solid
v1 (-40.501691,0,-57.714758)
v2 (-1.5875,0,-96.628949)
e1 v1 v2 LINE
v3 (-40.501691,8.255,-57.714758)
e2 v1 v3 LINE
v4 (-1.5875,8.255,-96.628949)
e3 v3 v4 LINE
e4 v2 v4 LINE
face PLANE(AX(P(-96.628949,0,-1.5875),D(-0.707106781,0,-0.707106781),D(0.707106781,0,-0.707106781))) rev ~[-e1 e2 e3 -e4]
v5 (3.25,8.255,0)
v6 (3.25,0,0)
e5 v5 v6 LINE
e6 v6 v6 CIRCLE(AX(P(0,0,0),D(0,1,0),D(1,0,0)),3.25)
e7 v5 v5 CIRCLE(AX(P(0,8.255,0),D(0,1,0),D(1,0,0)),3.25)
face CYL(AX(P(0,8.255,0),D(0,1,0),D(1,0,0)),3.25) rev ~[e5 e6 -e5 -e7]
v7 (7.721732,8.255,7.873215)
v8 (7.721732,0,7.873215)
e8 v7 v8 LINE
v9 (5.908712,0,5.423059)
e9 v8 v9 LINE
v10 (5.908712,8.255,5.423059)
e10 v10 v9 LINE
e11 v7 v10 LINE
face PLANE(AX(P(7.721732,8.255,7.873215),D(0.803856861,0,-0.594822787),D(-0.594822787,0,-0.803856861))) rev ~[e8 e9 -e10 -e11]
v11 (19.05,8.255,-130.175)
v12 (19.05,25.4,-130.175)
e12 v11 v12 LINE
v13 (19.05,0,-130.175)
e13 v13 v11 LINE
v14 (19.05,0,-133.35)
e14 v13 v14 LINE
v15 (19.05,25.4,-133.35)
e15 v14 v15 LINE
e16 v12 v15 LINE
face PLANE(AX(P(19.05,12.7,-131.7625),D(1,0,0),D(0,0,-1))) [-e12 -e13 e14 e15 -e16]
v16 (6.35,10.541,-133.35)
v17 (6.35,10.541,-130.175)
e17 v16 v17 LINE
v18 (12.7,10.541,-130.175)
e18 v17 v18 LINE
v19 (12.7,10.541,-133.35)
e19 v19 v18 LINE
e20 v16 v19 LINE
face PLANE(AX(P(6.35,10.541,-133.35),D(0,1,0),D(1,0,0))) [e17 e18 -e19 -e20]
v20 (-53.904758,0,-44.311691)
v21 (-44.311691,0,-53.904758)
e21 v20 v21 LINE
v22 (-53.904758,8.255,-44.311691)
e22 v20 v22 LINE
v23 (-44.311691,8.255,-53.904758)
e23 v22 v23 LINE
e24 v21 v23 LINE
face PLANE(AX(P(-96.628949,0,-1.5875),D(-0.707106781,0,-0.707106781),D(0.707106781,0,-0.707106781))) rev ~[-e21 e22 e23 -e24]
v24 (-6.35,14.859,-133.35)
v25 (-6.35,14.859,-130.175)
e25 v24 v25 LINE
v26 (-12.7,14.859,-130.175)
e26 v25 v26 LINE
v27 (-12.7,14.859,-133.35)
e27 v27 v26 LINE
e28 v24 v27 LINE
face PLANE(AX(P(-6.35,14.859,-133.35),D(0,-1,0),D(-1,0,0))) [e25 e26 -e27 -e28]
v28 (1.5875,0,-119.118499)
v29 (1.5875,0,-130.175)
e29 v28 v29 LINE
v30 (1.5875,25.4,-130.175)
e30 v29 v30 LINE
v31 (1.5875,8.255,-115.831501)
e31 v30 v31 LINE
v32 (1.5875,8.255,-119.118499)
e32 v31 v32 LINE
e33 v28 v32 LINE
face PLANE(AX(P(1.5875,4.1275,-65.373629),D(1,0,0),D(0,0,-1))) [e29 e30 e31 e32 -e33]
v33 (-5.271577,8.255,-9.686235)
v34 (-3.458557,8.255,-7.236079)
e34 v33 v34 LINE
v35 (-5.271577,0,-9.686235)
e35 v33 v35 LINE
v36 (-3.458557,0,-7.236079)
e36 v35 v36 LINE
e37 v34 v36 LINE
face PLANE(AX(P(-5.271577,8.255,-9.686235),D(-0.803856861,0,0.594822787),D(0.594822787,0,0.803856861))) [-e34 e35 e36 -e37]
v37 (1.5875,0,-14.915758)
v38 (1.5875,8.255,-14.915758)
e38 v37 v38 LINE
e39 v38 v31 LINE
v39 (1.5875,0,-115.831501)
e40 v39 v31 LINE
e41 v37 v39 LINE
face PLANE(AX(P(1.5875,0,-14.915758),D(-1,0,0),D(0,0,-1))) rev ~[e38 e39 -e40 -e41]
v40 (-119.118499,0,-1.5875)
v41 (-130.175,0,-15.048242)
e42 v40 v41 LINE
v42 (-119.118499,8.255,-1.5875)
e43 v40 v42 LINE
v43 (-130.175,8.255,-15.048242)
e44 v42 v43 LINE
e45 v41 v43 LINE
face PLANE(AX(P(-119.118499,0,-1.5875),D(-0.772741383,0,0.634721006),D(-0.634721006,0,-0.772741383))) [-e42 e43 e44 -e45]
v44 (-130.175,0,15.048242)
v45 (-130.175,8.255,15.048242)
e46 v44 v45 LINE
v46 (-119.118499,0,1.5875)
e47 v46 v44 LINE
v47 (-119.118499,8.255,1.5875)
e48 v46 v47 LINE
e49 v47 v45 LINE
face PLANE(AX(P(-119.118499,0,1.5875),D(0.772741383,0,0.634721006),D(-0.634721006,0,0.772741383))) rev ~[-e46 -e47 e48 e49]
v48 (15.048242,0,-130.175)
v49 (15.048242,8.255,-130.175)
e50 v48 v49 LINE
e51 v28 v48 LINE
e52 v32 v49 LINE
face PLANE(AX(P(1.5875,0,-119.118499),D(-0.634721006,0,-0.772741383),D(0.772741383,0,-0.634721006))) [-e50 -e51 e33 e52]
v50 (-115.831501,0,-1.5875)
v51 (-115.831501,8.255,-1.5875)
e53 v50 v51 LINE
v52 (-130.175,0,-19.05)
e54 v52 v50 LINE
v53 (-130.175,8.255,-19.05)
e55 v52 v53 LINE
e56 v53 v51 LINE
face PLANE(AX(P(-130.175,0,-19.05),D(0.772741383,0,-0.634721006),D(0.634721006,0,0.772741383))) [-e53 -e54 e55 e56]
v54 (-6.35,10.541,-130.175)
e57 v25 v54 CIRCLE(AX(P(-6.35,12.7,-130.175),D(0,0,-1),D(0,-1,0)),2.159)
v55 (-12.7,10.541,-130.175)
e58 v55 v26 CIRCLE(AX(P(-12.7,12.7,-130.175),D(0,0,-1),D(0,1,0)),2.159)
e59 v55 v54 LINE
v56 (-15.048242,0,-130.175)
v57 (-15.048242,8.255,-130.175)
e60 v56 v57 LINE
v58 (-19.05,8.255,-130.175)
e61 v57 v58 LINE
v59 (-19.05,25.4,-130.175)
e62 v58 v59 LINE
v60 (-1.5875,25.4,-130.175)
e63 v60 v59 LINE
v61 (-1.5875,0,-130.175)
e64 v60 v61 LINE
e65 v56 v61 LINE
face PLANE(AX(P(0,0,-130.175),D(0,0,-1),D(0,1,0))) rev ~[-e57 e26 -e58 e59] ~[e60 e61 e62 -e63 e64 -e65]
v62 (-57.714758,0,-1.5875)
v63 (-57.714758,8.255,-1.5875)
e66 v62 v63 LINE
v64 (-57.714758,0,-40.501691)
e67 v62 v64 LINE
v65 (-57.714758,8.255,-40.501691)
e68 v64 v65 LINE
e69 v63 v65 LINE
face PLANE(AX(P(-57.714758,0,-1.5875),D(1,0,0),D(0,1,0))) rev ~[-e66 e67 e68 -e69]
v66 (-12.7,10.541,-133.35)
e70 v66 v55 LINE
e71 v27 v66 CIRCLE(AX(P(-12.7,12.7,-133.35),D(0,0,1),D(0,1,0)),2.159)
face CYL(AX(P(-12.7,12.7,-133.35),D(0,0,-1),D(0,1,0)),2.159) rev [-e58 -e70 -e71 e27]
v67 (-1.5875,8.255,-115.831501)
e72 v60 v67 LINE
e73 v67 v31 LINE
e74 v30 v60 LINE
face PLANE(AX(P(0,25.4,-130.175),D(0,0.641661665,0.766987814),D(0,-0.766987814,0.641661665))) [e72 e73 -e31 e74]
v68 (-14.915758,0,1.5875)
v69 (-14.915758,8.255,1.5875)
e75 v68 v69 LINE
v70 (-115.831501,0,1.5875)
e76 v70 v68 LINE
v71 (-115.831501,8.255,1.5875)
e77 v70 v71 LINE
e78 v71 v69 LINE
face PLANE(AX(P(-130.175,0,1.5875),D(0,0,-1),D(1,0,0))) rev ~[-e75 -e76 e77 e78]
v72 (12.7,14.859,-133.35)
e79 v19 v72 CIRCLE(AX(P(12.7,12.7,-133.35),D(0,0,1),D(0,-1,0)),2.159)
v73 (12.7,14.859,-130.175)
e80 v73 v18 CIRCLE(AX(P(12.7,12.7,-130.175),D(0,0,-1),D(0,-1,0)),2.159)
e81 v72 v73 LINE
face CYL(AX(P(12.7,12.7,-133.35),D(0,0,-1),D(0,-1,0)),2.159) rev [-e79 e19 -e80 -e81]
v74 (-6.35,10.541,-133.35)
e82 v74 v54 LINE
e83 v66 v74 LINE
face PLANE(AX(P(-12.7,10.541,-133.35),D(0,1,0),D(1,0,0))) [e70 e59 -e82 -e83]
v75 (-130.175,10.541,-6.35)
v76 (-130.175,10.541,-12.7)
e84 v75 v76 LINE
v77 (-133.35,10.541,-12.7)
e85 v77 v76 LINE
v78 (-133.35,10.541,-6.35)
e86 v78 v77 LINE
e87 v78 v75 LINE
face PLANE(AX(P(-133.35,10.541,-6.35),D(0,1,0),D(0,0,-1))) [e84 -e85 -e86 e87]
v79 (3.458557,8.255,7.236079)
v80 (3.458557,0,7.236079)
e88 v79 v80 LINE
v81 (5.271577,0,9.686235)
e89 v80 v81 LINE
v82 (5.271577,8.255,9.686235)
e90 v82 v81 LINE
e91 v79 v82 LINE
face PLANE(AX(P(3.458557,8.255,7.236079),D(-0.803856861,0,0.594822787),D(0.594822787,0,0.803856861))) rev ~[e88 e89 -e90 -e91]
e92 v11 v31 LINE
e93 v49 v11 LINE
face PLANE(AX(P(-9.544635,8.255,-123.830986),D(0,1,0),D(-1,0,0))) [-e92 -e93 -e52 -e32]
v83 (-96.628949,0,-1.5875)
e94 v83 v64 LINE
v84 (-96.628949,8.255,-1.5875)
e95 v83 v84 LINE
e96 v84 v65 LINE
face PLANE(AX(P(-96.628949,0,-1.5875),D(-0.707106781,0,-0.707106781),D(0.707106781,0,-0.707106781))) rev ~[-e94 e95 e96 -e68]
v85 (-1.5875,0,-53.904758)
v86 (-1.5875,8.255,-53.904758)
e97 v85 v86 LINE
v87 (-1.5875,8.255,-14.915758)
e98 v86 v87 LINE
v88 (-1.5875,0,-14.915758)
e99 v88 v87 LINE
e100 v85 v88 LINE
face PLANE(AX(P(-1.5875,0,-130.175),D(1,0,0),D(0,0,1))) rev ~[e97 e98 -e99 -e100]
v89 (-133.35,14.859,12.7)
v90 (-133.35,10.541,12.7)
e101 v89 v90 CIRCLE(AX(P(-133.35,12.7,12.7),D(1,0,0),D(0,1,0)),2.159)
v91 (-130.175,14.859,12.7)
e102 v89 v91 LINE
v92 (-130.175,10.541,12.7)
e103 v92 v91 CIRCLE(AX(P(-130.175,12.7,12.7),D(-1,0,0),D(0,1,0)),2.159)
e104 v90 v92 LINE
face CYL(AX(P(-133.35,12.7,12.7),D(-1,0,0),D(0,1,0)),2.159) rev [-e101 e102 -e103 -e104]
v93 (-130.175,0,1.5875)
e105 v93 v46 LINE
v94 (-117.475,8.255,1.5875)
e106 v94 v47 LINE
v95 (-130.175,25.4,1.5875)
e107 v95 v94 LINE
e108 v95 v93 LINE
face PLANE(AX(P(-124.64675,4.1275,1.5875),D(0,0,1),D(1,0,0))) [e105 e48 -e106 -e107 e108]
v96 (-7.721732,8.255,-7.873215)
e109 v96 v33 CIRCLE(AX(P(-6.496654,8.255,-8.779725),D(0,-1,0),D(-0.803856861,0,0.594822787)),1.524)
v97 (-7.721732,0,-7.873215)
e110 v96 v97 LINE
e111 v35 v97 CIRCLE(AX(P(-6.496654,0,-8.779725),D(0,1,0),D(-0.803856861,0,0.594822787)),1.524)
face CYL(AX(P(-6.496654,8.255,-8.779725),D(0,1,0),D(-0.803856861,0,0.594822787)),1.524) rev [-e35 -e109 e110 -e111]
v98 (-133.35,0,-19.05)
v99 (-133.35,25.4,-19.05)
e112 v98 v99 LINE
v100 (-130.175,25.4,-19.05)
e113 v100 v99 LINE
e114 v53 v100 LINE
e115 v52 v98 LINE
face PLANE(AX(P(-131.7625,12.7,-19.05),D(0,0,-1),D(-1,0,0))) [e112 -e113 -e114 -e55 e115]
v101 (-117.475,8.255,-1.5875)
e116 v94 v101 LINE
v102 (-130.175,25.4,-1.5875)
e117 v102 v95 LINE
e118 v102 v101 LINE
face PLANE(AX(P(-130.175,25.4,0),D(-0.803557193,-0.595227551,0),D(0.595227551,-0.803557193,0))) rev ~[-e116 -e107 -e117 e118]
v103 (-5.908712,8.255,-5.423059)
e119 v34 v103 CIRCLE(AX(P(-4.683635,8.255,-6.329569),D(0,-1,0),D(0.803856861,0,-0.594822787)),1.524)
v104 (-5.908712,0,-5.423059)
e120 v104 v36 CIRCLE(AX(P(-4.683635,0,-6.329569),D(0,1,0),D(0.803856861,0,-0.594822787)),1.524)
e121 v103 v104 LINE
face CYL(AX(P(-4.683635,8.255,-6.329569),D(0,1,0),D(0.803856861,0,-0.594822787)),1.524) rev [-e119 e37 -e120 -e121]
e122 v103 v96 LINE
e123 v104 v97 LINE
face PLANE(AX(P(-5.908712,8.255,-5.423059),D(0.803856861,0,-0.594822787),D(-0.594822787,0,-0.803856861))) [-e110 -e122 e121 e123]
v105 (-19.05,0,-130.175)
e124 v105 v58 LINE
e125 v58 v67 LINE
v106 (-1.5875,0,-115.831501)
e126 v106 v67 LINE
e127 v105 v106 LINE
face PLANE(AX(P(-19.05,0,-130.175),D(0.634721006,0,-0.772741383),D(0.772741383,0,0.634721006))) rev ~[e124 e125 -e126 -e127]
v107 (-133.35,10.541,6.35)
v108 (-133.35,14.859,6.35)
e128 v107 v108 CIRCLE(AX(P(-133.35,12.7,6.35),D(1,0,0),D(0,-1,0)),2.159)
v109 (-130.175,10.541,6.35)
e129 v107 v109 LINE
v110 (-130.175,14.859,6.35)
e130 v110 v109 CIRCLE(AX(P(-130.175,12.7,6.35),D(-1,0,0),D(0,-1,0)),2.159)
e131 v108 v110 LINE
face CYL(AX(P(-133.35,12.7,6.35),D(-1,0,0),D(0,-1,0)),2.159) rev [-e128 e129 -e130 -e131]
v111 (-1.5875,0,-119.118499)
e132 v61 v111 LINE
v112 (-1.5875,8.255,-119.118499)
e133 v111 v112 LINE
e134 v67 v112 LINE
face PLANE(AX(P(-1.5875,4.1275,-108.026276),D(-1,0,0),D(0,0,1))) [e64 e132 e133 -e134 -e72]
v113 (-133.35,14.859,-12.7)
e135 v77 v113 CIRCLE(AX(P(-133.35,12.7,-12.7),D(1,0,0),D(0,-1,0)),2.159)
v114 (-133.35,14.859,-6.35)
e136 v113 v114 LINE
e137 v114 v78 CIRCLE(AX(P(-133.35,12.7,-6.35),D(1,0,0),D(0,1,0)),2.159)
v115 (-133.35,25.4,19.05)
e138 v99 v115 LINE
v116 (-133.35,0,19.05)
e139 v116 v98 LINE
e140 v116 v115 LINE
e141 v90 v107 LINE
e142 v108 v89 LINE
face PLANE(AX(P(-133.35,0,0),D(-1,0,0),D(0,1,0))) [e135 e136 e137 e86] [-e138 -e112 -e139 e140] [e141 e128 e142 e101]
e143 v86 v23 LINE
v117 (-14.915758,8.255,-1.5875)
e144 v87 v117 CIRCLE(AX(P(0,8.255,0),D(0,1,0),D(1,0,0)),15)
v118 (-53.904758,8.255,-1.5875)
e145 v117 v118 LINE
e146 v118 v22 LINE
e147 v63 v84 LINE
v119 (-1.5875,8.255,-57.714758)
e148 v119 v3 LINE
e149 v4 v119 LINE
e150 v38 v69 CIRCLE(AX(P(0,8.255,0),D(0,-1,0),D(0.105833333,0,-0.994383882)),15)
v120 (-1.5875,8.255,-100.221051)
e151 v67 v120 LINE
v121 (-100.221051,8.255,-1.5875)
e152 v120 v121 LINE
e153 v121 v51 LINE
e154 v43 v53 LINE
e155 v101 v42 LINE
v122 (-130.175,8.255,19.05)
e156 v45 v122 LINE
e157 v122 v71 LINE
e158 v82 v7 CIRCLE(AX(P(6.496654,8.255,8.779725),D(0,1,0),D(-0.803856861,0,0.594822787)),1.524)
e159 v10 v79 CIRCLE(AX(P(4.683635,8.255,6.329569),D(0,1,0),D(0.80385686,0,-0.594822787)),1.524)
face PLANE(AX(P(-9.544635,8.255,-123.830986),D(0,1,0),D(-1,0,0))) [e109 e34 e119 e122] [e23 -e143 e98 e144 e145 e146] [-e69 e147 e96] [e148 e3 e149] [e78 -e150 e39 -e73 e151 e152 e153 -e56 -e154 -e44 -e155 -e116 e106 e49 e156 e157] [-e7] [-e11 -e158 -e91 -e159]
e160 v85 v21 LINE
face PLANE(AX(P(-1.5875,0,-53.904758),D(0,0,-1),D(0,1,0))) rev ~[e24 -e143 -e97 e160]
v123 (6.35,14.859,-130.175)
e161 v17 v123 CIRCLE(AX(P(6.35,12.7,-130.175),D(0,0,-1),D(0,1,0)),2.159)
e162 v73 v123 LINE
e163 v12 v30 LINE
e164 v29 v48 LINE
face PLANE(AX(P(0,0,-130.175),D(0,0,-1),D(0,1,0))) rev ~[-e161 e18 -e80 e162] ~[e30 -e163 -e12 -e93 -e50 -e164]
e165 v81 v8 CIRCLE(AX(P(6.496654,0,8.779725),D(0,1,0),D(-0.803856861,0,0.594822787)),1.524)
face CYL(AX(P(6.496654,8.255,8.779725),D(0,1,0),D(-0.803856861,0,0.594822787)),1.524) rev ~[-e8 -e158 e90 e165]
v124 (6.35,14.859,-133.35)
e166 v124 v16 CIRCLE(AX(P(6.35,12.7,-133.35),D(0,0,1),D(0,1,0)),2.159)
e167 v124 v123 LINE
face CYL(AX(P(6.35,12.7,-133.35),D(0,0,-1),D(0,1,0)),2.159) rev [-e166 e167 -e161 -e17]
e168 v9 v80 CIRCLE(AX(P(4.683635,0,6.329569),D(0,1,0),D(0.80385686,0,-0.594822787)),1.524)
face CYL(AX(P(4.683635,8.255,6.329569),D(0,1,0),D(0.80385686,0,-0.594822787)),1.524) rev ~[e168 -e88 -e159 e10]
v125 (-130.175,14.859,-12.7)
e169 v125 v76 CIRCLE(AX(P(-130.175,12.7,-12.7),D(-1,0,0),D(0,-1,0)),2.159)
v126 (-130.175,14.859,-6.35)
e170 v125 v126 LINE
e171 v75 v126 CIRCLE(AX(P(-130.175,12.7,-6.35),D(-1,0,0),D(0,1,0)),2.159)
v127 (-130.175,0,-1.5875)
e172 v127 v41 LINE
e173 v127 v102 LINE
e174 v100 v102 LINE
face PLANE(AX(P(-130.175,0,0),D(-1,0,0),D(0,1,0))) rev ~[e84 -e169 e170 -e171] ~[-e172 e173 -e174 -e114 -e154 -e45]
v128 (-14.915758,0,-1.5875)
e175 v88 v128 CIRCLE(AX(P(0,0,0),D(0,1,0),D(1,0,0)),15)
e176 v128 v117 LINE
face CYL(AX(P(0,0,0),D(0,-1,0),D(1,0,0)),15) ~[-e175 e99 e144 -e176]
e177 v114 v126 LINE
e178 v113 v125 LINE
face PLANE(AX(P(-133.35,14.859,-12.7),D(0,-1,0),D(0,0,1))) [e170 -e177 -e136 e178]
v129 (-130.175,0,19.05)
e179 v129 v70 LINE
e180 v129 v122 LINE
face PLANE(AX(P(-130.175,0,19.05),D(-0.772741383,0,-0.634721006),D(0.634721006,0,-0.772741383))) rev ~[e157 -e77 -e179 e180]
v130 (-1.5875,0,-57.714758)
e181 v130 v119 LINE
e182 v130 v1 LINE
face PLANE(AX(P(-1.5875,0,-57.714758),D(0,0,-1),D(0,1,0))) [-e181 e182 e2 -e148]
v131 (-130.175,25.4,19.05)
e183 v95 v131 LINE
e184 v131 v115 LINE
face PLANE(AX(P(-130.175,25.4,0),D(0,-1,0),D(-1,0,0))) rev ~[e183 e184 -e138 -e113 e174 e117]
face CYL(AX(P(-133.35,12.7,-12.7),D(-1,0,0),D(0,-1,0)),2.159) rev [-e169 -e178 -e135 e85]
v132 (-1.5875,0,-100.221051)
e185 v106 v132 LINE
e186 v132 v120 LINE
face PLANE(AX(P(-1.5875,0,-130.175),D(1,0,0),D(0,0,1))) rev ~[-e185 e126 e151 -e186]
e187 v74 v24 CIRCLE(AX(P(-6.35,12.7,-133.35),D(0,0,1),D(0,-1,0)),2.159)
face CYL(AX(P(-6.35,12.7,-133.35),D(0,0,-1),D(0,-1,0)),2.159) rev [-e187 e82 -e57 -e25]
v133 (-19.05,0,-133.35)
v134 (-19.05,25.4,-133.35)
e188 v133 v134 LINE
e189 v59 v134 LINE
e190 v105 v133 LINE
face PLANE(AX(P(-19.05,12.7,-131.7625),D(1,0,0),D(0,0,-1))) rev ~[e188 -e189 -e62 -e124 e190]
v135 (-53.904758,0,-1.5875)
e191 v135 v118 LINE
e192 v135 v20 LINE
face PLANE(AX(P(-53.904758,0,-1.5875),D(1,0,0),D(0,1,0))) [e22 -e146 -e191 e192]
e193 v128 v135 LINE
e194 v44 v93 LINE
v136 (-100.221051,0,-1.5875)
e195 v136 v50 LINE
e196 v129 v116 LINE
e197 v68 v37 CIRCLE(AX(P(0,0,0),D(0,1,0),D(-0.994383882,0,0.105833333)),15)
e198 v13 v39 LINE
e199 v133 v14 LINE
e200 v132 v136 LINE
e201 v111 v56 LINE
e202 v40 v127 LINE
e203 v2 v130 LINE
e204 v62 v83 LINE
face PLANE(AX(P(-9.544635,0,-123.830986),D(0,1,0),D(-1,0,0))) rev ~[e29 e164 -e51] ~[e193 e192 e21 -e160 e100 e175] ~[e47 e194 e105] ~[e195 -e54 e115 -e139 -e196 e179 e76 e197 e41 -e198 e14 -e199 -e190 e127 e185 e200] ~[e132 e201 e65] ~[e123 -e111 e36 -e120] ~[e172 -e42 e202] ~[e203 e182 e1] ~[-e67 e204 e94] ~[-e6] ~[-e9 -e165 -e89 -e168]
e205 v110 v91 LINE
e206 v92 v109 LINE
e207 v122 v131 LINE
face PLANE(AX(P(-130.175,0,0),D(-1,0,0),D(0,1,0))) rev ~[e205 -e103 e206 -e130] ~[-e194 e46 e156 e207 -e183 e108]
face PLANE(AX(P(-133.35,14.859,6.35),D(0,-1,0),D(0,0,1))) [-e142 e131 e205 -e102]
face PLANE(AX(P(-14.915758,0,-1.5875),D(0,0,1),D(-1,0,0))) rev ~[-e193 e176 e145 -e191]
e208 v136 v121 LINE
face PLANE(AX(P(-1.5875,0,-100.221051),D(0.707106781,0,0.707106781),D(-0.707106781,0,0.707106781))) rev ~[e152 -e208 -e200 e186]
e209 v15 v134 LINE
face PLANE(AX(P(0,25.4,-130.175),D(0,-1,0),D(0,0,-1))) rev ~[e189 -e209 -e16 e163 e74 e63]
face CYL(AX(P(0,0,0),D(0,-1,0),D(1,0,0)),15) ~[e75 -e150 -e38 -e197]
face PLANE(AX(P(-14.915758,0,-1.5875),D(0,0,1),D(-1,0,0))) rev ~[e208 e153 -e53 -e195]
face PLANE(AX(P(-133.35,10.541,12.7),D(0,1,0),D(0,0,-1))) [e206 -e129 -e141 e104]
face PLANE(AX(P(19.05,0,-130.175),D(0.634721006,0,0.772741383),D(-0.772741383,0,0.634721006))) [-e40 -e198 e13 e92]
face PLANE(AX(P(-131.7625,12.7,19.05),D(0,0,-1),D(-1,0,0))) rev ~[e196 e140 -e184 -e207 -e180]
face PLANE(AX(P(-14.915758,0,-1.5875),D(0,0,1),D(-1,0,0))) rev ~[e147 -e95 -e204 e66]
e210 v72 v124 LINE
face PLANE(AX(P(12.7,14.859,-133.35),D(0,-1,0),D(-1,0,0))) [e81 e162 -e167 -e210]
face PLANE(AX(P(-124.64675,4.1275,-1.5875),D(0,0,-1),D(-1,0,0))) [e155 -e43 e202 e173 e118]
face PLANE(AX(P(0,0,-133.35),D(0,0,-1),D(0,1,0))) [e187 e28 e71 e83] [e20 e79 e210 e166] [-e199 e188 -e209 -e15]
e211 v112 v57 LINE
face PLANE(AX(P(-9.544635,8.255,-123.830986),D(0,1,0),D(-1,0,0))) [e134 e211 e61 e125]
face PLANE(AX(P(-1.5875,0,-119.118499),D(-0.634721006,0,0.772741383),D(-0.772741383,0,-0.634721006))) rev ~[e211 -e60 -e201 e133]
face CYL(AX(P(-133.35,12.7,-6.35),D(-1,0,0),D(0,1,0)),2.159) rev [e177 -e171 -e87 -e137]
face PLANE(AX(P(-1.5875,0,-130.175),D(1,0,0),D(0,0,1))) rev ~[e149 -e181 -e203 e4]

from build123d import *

# Parameters (mm, degrees)
SKETCH1_R                       = 15
BOSS_EXTRUDE2_DEPTH             = 8.255
BOSS_EXTRUDE3_DEPTH             = 8.255
SKETCH5_R                       = 3.249999977
CUT_EXTRUDE3_DEPTH              = 63.5
SKETCH7_W                       = 3.175
SKETCH7_H                       = 25.4
BOSS_EXTRUDE5_DEPTH             = 19.05
CUT_EXTRUDE6_DEPTH              = 149.35
CIRPATTERN2_COUNT               = 2
CIRPATTERN2_ANGLE               = 90
CIRPATTERN3_COUNT               = 2
CIRPATTERN3_ANGLE               = 90
BOSS_EXTRUDE6_DEPTH             = 8.255
BOSS_EXTRUDE7_REACH             = 21.05
BOSS_EXTRUDE7_DIRECTION_2_REACH = 135.35
BOSS_EXTRUDE8_REACH             = 21.05
BOSS_EXTRUDE8_DIRECTION_2_REACH = 135.35
BOSS_EXTRUDE9_REACH             = 133.763
SKETCH19_W                      = 3.81
SKETCH19_H                      = 8.255
BOSS_EXTRUDE10_REACH            = 133.763
SKETCH20_W                      = 3.81
SKETCH20_H                      = 8.255


with BuildPart() as part:
    # Sketch1 → Boss-Extrude2 (new body)
    with BuildSketch(Plane(origin=(0, 0, 0), x_dir=(1, 0, 0), z_dir=(0, 1, 0))):
        Circle(SKETCH1_R)
    extrude(amount=BOSS_EXTRUDE2_DEPTH)

    # Sketch1<6> → Boss-Extrude3 (add)
    with BuildSketch(Plane(origin=(0, 0, 0), x_dir=(1, 0, 0), z_dir=(0, 1, 0))):
        with BuildLine():
            Line((-1.5875, 130.175), (-1.5875, 14.915758236))
            ThreePointArc((-1.5875, 14.915758236), (0, 15), (1.5875, 14.915758236))
            Line((1.5875, 14.915758236), (1.5875, 130.175))
            Line((1.5875, 130.175), (-1.5875, 130.175))
        make_face()
        with BuildLine():
            ThreePointArc((-14.915758236, -1.5875), (-15, 0), (-14.915758236, 1.5875))
            Line((-14.915758236, 1.5875), (-130.175, 1.5875))
            Line((-130.175, 1.5875), (-130.175, -1.5875))
            Line((-130.175, -1.5875), (-14.915758236, -1.5875))
        make_face()
    extrude(amount=BOSS_EXTRUDE3_DEPTH)

    # Sketch5 → Cut-Extrude3 (cut)
    with BuildSketch(Plane(origin=(0, 8.255, 0), x_dir=(1, 0, 0), z_dir=(0, 1, 0))):
        Circle(SKETCH5_R)
        with BuildLine():
            Line((-5.908712478, 5.423058993), (-7.721732332, 7.873214705))
            ThreePointArc((-7.721732332, 7.873214705), (-7.403164404, 10.004802487), (-5.271576621, 9.686234559))
            Line((-5.271576621, 9.686234559), (-3.458556767, 7.236078848))
            ThreePointArc((-3.458556767, 7.236078848), (-3.777124696, 5.104491065), (-5.908712478, 5.423058993))
        make_face()
        with BuildLine():
            Line((3.458556767, -7.236078848), (5.271576621, -9.686234559))
            ThreePointArc((5.271576621, -9.686234559), (7.403164404, -10.004802487), (7.721732332, -7.873214705))
            Line((7.721732332, -7.873214705), (5.908712478, -5.423058993))
            ThreePointArc((5.908712478, -5.423058993), (3.777124696, -5.104491065), (3.458556767, -7.236078848))
        make_face()
    extrude(amount=-CUT_EXTRUDE3_DEPTH, mode=Mode.SUBTRACT)

    # Sketch7 → Boss-Extrude5 (add, symmetric)
    with BuildSketch(Plane(origin=(0, 0, 0), x_dir=(0, 0, -1), z_dir=(1, 0, 0))):
        with Locations((131.7625, 12.7)):
            Rectangle(SKETCH7_W, SKETCH7_H)
    boss_extrude5 = extrude(amount=BOSS_EXTRUDE5_DEPTH, both=True)

    # Sketch12 → Cut-Extrude6 (cut, through all)
    with BuildSketch(Plane(origin=(0, 0, -133.35), x_dir=(-1, 0, 0), z_dir=(0, 0, -1))):
        with BuildLine():
            Line((-6.35, 10.541), (-12.7, 10.541))
            ThreePointArc((-12.7, 10.541), (-14.859, 12.7), (-12.7, 14.859))
            Line((-12.7, 14.859), (-6.35, 14.859))
            ThreePointArc((-6.35, 14.859), (-4.191, 12.7), (-6.35, 10.541))
        make_face()
        with BuildLine():
            Line((6.35, 14.859), (12.7, 14.859))
            ThreePointArc((12.7, 14.859), (14.859, 12.7), (12.7, 10.541))
            Line((12.7, 10.541), (6.35, 10.541))
            ThreePointArc((6.35, 10.541), (4.191, 12.7), (6.35, 14.859))
        make_face()
    cut_extrude6 = extrude(amount=-CUT_EXTRUDE6_DEPTH, mode=Mode.SUBTRACT)

    # CirPattern2: Boss-Extrude5 ×2 about axis
    cirpattern2_axis = Axis((0, 0, 0), (0, 1, 0))
    for i in range(1, CIRPATTERN2_COUNT):
        add(boss_extrude5.rotate(cirpattern2_axis, i * CIRPATTERN2_ANGLE / (CIRPATTERN2_COUNT - 1)))

    # CirPattern3: Cut-Extrude6 ×2 about axis
    cirpattern3_axis = Axis((0, 0, 0), (0, 1, 0))
    for i in range(1, CIRPATTERN3_COUNT):
        add(cut_extrude6.rotate(cirpattern3_axis, i * CIRPATTERN3_ANGLE / (CIRPATTERN3_COUNT - 1)), mode=Mode.SUBTRACT)

    # Sketch13 → Boss-Extrude6 (add)
    with BuildSketch(Plane.XZ):
        Polygon((-96.628948776, -1.5875), (-1.5875, -96.628948776), (-1.5875, -100.221051224), (-100.221051224, -1.5875), align=None)
        Polygon((-19.05, -130.175), (-1.5875, -115.831500599), (-1.5875, -119.118499401), (-15.048241783, -130.175), align=None)
        Polygon((19.05, -130.175), (1.5875, -115.831500599), (1.5875, -119.118499401), (15.048241783, -130.175), align=None)
        Polygon((-119.118499401, 1.5875), (-130.175, 15.048241783), (-130.175, 19.05), (-115.831500599, 1.5875), align=None)
        Polygon((-119.118499401, -1.5875), (-130.175, -15.048241783), (-130.175, -19.05), (-115.831500599, -1.5875), align=None)
    extrude(amount=-BOSS_EXTRUDE6_DEPTH)

    # Boss-Extrude7: up to this face of the body (flat: up to its plane)
    boss_extrude7_end = Plane(part.part.faces().sort_by_distance((-124.646749701, 4.1275, 1.5875))[0])
    # Sketch14 → Boss-Extrude7 (add, up to the picked face)
    with BuildSketch(Plane.XY, mode=Mode.PRIVATE) as boss_extrude7_sk1:
        Polygon((-130.175, 25.4), (-117.475, 8.255), (-130.175, 8.255), align=None)
    boss_extrude7_tool1 = split(extrude(boss_extrude7_sk1.sketch, amount=BOSS_EXTRUDE7_REACH, mode=Mode.PRIVATE), bisect_by=boss_extrude7_end, keep=Keep.BOTH, mode=Mode.PRIVATE)
    add(boss_extrude7_tool1.solids().sort_by_distance((-125.941667, 13.97, 0))[0])

    # Boss-Extrude7 direction 2: up to this face of the body (flat: up to its plane)
    boss_extrude7_direction_2_end = Plane(part.part.faces().sort_by_distance((-124.646749701, 4.1275, -1.5875))[0])
    # Sketch14 → Boss-Extrude7 direction 2 (add, up to the picked face)
    with BuildSketch(Plane.XY, mode=Mode.PRIVATE) as boss_extrude7_direction_2_sk1:
        Polygon((-130.175, 25.4), (-117.475, 8.255), (-130.175, 8.255), align=None)
    boss_extrude7_direction_2_tool1 = split(extrude(boss_extrude7_direction_2_sk1.sketch, amount=-BOSS_EXTRUDE7_DIRECTION_2_REACH, mode=Mode.PRIVATE), bisect_by=boss_extrude7_direction_2_end, keep=Keep.BOTH, mode=Mode.PRIVATE)
    add(boss_extrude7_direction_2_tool1.solids().sort_by_distance((-125.941667, 13.97, 0))[0])

    # Boss-Extrude8: up to this face of the body (flat: up to its plane)
    boss_extrude8_end = Plane(part.part.faces().sort_by_distance((1.5875, 4.1275, -65.373629417))[0])
    # Sketch15 → Boss-Extrude8 (add, up to the picked face)
    with BuildSketch(Plane(origin=(0, 0, 0), x_dir=(0, 0, -1), z_dir=(1, 0, 0)), mode=Mode.PRIVATE) as boss_extrude8_sk1:
        Polygon((130.175, 25.4), (115.831500599, 8.255), (130.175, 8.255), align=None)
    boss_extrude8_tool1 = split(extrude(boss_extrude8_sk1.sketch, amount=BOSS_EXTRUDE8_REACH, mode=Mode.PRIVATE), bisect_by=boss_extrude8_end, keep=Keep.BOTH, mode=Mode.PRIVATE)
    add(boss_extrude8_tool1.solids().sort_by_distance((0, 13.97, -125.393834))[0])

    # Boss-Extrude8 direction 2: up to this face of the body (flat: up to its plane)
    boss_extrude8_direction_2_end = Plane(part.part.faces().sort_by_distance((-1.5875, 4.1275, -108.026275912))[0])
    # Sketch15 → Boss-Extrude8 direction 2 (add, up to the picked face)
    with BuildSketch(Plane(origin=(0, 0, 0), x_dir=(0, 0, -1), z_dir=(1, 0, 0)), mode=Mode.PRIVATE) as boss_extrude8_direction_2_sk1:
        Polygon((130.175, 25.4), (115.831500599, 8.255), (130.175, 8.255), align=None)
    boss_extrude8_direction_2_tool1 = split(extrude(boss_extrude8_direction_2_sk1.sketch, amount=-BOSS_EXTRUDE8_DIRECTION_2_REACH, mode=Mode.PRIVATE), bisect_by=boss_extrude8_direction_2_end, keep=Keep.BOTH, mode=Mode.PRIVATE)
    add(boss_extrude8_direction_2_tool1.solids().sort_by_distance((0, 13.97, -125.393834))[0])

    # Sketch19 → Boss-Extrude9 (add, up to next)
    with BuildSketch(Plane.ZY.offset(1.5875), mode=Mode.PRIVATE) as boss_extrude9_sk1:
        with Locations((-55.809758236, 4.1275)):
            Rectangle(SKETCH19_W, SKETCH19_H)
    boss_extrude9_tool1 = extrude(boss_extrude9_sk1.sketch, amount=BOSS_EXTRUDE9_REACH, mode=Mode.PRIVATE) - part.part
    add(boss_extrude9_tool1.solids().sort_by_distance((-1.5875, 4.1275, -55.809758))[0])

    # Sketch20 → Boss-Extrude10 (add, up to next)
    with BuildSketch(Plane(origin=(0, 0, -1.5875), x_dir=(-1, 0, 0), z_dir=(0, 0, -1)), mode=Mode.PRIVATE) as boss_extrude10_sk1:
        with Locations((55.809758236, 4.1275)):
            Rectangle(SKETCH20_W, SKETCH20_H)
    boss_extrude10_tool1 = extrude(boss_extrude10_sk1.sketch, amount=BOSS_EXTRUDE10_REACH, mode=Mode.PRIVATE) - part.part
    add(boss_extrude10_tool1.solids().sort_by_distance((-55.809758, 4.1275, -1.5875))[0])


solid = part.part
